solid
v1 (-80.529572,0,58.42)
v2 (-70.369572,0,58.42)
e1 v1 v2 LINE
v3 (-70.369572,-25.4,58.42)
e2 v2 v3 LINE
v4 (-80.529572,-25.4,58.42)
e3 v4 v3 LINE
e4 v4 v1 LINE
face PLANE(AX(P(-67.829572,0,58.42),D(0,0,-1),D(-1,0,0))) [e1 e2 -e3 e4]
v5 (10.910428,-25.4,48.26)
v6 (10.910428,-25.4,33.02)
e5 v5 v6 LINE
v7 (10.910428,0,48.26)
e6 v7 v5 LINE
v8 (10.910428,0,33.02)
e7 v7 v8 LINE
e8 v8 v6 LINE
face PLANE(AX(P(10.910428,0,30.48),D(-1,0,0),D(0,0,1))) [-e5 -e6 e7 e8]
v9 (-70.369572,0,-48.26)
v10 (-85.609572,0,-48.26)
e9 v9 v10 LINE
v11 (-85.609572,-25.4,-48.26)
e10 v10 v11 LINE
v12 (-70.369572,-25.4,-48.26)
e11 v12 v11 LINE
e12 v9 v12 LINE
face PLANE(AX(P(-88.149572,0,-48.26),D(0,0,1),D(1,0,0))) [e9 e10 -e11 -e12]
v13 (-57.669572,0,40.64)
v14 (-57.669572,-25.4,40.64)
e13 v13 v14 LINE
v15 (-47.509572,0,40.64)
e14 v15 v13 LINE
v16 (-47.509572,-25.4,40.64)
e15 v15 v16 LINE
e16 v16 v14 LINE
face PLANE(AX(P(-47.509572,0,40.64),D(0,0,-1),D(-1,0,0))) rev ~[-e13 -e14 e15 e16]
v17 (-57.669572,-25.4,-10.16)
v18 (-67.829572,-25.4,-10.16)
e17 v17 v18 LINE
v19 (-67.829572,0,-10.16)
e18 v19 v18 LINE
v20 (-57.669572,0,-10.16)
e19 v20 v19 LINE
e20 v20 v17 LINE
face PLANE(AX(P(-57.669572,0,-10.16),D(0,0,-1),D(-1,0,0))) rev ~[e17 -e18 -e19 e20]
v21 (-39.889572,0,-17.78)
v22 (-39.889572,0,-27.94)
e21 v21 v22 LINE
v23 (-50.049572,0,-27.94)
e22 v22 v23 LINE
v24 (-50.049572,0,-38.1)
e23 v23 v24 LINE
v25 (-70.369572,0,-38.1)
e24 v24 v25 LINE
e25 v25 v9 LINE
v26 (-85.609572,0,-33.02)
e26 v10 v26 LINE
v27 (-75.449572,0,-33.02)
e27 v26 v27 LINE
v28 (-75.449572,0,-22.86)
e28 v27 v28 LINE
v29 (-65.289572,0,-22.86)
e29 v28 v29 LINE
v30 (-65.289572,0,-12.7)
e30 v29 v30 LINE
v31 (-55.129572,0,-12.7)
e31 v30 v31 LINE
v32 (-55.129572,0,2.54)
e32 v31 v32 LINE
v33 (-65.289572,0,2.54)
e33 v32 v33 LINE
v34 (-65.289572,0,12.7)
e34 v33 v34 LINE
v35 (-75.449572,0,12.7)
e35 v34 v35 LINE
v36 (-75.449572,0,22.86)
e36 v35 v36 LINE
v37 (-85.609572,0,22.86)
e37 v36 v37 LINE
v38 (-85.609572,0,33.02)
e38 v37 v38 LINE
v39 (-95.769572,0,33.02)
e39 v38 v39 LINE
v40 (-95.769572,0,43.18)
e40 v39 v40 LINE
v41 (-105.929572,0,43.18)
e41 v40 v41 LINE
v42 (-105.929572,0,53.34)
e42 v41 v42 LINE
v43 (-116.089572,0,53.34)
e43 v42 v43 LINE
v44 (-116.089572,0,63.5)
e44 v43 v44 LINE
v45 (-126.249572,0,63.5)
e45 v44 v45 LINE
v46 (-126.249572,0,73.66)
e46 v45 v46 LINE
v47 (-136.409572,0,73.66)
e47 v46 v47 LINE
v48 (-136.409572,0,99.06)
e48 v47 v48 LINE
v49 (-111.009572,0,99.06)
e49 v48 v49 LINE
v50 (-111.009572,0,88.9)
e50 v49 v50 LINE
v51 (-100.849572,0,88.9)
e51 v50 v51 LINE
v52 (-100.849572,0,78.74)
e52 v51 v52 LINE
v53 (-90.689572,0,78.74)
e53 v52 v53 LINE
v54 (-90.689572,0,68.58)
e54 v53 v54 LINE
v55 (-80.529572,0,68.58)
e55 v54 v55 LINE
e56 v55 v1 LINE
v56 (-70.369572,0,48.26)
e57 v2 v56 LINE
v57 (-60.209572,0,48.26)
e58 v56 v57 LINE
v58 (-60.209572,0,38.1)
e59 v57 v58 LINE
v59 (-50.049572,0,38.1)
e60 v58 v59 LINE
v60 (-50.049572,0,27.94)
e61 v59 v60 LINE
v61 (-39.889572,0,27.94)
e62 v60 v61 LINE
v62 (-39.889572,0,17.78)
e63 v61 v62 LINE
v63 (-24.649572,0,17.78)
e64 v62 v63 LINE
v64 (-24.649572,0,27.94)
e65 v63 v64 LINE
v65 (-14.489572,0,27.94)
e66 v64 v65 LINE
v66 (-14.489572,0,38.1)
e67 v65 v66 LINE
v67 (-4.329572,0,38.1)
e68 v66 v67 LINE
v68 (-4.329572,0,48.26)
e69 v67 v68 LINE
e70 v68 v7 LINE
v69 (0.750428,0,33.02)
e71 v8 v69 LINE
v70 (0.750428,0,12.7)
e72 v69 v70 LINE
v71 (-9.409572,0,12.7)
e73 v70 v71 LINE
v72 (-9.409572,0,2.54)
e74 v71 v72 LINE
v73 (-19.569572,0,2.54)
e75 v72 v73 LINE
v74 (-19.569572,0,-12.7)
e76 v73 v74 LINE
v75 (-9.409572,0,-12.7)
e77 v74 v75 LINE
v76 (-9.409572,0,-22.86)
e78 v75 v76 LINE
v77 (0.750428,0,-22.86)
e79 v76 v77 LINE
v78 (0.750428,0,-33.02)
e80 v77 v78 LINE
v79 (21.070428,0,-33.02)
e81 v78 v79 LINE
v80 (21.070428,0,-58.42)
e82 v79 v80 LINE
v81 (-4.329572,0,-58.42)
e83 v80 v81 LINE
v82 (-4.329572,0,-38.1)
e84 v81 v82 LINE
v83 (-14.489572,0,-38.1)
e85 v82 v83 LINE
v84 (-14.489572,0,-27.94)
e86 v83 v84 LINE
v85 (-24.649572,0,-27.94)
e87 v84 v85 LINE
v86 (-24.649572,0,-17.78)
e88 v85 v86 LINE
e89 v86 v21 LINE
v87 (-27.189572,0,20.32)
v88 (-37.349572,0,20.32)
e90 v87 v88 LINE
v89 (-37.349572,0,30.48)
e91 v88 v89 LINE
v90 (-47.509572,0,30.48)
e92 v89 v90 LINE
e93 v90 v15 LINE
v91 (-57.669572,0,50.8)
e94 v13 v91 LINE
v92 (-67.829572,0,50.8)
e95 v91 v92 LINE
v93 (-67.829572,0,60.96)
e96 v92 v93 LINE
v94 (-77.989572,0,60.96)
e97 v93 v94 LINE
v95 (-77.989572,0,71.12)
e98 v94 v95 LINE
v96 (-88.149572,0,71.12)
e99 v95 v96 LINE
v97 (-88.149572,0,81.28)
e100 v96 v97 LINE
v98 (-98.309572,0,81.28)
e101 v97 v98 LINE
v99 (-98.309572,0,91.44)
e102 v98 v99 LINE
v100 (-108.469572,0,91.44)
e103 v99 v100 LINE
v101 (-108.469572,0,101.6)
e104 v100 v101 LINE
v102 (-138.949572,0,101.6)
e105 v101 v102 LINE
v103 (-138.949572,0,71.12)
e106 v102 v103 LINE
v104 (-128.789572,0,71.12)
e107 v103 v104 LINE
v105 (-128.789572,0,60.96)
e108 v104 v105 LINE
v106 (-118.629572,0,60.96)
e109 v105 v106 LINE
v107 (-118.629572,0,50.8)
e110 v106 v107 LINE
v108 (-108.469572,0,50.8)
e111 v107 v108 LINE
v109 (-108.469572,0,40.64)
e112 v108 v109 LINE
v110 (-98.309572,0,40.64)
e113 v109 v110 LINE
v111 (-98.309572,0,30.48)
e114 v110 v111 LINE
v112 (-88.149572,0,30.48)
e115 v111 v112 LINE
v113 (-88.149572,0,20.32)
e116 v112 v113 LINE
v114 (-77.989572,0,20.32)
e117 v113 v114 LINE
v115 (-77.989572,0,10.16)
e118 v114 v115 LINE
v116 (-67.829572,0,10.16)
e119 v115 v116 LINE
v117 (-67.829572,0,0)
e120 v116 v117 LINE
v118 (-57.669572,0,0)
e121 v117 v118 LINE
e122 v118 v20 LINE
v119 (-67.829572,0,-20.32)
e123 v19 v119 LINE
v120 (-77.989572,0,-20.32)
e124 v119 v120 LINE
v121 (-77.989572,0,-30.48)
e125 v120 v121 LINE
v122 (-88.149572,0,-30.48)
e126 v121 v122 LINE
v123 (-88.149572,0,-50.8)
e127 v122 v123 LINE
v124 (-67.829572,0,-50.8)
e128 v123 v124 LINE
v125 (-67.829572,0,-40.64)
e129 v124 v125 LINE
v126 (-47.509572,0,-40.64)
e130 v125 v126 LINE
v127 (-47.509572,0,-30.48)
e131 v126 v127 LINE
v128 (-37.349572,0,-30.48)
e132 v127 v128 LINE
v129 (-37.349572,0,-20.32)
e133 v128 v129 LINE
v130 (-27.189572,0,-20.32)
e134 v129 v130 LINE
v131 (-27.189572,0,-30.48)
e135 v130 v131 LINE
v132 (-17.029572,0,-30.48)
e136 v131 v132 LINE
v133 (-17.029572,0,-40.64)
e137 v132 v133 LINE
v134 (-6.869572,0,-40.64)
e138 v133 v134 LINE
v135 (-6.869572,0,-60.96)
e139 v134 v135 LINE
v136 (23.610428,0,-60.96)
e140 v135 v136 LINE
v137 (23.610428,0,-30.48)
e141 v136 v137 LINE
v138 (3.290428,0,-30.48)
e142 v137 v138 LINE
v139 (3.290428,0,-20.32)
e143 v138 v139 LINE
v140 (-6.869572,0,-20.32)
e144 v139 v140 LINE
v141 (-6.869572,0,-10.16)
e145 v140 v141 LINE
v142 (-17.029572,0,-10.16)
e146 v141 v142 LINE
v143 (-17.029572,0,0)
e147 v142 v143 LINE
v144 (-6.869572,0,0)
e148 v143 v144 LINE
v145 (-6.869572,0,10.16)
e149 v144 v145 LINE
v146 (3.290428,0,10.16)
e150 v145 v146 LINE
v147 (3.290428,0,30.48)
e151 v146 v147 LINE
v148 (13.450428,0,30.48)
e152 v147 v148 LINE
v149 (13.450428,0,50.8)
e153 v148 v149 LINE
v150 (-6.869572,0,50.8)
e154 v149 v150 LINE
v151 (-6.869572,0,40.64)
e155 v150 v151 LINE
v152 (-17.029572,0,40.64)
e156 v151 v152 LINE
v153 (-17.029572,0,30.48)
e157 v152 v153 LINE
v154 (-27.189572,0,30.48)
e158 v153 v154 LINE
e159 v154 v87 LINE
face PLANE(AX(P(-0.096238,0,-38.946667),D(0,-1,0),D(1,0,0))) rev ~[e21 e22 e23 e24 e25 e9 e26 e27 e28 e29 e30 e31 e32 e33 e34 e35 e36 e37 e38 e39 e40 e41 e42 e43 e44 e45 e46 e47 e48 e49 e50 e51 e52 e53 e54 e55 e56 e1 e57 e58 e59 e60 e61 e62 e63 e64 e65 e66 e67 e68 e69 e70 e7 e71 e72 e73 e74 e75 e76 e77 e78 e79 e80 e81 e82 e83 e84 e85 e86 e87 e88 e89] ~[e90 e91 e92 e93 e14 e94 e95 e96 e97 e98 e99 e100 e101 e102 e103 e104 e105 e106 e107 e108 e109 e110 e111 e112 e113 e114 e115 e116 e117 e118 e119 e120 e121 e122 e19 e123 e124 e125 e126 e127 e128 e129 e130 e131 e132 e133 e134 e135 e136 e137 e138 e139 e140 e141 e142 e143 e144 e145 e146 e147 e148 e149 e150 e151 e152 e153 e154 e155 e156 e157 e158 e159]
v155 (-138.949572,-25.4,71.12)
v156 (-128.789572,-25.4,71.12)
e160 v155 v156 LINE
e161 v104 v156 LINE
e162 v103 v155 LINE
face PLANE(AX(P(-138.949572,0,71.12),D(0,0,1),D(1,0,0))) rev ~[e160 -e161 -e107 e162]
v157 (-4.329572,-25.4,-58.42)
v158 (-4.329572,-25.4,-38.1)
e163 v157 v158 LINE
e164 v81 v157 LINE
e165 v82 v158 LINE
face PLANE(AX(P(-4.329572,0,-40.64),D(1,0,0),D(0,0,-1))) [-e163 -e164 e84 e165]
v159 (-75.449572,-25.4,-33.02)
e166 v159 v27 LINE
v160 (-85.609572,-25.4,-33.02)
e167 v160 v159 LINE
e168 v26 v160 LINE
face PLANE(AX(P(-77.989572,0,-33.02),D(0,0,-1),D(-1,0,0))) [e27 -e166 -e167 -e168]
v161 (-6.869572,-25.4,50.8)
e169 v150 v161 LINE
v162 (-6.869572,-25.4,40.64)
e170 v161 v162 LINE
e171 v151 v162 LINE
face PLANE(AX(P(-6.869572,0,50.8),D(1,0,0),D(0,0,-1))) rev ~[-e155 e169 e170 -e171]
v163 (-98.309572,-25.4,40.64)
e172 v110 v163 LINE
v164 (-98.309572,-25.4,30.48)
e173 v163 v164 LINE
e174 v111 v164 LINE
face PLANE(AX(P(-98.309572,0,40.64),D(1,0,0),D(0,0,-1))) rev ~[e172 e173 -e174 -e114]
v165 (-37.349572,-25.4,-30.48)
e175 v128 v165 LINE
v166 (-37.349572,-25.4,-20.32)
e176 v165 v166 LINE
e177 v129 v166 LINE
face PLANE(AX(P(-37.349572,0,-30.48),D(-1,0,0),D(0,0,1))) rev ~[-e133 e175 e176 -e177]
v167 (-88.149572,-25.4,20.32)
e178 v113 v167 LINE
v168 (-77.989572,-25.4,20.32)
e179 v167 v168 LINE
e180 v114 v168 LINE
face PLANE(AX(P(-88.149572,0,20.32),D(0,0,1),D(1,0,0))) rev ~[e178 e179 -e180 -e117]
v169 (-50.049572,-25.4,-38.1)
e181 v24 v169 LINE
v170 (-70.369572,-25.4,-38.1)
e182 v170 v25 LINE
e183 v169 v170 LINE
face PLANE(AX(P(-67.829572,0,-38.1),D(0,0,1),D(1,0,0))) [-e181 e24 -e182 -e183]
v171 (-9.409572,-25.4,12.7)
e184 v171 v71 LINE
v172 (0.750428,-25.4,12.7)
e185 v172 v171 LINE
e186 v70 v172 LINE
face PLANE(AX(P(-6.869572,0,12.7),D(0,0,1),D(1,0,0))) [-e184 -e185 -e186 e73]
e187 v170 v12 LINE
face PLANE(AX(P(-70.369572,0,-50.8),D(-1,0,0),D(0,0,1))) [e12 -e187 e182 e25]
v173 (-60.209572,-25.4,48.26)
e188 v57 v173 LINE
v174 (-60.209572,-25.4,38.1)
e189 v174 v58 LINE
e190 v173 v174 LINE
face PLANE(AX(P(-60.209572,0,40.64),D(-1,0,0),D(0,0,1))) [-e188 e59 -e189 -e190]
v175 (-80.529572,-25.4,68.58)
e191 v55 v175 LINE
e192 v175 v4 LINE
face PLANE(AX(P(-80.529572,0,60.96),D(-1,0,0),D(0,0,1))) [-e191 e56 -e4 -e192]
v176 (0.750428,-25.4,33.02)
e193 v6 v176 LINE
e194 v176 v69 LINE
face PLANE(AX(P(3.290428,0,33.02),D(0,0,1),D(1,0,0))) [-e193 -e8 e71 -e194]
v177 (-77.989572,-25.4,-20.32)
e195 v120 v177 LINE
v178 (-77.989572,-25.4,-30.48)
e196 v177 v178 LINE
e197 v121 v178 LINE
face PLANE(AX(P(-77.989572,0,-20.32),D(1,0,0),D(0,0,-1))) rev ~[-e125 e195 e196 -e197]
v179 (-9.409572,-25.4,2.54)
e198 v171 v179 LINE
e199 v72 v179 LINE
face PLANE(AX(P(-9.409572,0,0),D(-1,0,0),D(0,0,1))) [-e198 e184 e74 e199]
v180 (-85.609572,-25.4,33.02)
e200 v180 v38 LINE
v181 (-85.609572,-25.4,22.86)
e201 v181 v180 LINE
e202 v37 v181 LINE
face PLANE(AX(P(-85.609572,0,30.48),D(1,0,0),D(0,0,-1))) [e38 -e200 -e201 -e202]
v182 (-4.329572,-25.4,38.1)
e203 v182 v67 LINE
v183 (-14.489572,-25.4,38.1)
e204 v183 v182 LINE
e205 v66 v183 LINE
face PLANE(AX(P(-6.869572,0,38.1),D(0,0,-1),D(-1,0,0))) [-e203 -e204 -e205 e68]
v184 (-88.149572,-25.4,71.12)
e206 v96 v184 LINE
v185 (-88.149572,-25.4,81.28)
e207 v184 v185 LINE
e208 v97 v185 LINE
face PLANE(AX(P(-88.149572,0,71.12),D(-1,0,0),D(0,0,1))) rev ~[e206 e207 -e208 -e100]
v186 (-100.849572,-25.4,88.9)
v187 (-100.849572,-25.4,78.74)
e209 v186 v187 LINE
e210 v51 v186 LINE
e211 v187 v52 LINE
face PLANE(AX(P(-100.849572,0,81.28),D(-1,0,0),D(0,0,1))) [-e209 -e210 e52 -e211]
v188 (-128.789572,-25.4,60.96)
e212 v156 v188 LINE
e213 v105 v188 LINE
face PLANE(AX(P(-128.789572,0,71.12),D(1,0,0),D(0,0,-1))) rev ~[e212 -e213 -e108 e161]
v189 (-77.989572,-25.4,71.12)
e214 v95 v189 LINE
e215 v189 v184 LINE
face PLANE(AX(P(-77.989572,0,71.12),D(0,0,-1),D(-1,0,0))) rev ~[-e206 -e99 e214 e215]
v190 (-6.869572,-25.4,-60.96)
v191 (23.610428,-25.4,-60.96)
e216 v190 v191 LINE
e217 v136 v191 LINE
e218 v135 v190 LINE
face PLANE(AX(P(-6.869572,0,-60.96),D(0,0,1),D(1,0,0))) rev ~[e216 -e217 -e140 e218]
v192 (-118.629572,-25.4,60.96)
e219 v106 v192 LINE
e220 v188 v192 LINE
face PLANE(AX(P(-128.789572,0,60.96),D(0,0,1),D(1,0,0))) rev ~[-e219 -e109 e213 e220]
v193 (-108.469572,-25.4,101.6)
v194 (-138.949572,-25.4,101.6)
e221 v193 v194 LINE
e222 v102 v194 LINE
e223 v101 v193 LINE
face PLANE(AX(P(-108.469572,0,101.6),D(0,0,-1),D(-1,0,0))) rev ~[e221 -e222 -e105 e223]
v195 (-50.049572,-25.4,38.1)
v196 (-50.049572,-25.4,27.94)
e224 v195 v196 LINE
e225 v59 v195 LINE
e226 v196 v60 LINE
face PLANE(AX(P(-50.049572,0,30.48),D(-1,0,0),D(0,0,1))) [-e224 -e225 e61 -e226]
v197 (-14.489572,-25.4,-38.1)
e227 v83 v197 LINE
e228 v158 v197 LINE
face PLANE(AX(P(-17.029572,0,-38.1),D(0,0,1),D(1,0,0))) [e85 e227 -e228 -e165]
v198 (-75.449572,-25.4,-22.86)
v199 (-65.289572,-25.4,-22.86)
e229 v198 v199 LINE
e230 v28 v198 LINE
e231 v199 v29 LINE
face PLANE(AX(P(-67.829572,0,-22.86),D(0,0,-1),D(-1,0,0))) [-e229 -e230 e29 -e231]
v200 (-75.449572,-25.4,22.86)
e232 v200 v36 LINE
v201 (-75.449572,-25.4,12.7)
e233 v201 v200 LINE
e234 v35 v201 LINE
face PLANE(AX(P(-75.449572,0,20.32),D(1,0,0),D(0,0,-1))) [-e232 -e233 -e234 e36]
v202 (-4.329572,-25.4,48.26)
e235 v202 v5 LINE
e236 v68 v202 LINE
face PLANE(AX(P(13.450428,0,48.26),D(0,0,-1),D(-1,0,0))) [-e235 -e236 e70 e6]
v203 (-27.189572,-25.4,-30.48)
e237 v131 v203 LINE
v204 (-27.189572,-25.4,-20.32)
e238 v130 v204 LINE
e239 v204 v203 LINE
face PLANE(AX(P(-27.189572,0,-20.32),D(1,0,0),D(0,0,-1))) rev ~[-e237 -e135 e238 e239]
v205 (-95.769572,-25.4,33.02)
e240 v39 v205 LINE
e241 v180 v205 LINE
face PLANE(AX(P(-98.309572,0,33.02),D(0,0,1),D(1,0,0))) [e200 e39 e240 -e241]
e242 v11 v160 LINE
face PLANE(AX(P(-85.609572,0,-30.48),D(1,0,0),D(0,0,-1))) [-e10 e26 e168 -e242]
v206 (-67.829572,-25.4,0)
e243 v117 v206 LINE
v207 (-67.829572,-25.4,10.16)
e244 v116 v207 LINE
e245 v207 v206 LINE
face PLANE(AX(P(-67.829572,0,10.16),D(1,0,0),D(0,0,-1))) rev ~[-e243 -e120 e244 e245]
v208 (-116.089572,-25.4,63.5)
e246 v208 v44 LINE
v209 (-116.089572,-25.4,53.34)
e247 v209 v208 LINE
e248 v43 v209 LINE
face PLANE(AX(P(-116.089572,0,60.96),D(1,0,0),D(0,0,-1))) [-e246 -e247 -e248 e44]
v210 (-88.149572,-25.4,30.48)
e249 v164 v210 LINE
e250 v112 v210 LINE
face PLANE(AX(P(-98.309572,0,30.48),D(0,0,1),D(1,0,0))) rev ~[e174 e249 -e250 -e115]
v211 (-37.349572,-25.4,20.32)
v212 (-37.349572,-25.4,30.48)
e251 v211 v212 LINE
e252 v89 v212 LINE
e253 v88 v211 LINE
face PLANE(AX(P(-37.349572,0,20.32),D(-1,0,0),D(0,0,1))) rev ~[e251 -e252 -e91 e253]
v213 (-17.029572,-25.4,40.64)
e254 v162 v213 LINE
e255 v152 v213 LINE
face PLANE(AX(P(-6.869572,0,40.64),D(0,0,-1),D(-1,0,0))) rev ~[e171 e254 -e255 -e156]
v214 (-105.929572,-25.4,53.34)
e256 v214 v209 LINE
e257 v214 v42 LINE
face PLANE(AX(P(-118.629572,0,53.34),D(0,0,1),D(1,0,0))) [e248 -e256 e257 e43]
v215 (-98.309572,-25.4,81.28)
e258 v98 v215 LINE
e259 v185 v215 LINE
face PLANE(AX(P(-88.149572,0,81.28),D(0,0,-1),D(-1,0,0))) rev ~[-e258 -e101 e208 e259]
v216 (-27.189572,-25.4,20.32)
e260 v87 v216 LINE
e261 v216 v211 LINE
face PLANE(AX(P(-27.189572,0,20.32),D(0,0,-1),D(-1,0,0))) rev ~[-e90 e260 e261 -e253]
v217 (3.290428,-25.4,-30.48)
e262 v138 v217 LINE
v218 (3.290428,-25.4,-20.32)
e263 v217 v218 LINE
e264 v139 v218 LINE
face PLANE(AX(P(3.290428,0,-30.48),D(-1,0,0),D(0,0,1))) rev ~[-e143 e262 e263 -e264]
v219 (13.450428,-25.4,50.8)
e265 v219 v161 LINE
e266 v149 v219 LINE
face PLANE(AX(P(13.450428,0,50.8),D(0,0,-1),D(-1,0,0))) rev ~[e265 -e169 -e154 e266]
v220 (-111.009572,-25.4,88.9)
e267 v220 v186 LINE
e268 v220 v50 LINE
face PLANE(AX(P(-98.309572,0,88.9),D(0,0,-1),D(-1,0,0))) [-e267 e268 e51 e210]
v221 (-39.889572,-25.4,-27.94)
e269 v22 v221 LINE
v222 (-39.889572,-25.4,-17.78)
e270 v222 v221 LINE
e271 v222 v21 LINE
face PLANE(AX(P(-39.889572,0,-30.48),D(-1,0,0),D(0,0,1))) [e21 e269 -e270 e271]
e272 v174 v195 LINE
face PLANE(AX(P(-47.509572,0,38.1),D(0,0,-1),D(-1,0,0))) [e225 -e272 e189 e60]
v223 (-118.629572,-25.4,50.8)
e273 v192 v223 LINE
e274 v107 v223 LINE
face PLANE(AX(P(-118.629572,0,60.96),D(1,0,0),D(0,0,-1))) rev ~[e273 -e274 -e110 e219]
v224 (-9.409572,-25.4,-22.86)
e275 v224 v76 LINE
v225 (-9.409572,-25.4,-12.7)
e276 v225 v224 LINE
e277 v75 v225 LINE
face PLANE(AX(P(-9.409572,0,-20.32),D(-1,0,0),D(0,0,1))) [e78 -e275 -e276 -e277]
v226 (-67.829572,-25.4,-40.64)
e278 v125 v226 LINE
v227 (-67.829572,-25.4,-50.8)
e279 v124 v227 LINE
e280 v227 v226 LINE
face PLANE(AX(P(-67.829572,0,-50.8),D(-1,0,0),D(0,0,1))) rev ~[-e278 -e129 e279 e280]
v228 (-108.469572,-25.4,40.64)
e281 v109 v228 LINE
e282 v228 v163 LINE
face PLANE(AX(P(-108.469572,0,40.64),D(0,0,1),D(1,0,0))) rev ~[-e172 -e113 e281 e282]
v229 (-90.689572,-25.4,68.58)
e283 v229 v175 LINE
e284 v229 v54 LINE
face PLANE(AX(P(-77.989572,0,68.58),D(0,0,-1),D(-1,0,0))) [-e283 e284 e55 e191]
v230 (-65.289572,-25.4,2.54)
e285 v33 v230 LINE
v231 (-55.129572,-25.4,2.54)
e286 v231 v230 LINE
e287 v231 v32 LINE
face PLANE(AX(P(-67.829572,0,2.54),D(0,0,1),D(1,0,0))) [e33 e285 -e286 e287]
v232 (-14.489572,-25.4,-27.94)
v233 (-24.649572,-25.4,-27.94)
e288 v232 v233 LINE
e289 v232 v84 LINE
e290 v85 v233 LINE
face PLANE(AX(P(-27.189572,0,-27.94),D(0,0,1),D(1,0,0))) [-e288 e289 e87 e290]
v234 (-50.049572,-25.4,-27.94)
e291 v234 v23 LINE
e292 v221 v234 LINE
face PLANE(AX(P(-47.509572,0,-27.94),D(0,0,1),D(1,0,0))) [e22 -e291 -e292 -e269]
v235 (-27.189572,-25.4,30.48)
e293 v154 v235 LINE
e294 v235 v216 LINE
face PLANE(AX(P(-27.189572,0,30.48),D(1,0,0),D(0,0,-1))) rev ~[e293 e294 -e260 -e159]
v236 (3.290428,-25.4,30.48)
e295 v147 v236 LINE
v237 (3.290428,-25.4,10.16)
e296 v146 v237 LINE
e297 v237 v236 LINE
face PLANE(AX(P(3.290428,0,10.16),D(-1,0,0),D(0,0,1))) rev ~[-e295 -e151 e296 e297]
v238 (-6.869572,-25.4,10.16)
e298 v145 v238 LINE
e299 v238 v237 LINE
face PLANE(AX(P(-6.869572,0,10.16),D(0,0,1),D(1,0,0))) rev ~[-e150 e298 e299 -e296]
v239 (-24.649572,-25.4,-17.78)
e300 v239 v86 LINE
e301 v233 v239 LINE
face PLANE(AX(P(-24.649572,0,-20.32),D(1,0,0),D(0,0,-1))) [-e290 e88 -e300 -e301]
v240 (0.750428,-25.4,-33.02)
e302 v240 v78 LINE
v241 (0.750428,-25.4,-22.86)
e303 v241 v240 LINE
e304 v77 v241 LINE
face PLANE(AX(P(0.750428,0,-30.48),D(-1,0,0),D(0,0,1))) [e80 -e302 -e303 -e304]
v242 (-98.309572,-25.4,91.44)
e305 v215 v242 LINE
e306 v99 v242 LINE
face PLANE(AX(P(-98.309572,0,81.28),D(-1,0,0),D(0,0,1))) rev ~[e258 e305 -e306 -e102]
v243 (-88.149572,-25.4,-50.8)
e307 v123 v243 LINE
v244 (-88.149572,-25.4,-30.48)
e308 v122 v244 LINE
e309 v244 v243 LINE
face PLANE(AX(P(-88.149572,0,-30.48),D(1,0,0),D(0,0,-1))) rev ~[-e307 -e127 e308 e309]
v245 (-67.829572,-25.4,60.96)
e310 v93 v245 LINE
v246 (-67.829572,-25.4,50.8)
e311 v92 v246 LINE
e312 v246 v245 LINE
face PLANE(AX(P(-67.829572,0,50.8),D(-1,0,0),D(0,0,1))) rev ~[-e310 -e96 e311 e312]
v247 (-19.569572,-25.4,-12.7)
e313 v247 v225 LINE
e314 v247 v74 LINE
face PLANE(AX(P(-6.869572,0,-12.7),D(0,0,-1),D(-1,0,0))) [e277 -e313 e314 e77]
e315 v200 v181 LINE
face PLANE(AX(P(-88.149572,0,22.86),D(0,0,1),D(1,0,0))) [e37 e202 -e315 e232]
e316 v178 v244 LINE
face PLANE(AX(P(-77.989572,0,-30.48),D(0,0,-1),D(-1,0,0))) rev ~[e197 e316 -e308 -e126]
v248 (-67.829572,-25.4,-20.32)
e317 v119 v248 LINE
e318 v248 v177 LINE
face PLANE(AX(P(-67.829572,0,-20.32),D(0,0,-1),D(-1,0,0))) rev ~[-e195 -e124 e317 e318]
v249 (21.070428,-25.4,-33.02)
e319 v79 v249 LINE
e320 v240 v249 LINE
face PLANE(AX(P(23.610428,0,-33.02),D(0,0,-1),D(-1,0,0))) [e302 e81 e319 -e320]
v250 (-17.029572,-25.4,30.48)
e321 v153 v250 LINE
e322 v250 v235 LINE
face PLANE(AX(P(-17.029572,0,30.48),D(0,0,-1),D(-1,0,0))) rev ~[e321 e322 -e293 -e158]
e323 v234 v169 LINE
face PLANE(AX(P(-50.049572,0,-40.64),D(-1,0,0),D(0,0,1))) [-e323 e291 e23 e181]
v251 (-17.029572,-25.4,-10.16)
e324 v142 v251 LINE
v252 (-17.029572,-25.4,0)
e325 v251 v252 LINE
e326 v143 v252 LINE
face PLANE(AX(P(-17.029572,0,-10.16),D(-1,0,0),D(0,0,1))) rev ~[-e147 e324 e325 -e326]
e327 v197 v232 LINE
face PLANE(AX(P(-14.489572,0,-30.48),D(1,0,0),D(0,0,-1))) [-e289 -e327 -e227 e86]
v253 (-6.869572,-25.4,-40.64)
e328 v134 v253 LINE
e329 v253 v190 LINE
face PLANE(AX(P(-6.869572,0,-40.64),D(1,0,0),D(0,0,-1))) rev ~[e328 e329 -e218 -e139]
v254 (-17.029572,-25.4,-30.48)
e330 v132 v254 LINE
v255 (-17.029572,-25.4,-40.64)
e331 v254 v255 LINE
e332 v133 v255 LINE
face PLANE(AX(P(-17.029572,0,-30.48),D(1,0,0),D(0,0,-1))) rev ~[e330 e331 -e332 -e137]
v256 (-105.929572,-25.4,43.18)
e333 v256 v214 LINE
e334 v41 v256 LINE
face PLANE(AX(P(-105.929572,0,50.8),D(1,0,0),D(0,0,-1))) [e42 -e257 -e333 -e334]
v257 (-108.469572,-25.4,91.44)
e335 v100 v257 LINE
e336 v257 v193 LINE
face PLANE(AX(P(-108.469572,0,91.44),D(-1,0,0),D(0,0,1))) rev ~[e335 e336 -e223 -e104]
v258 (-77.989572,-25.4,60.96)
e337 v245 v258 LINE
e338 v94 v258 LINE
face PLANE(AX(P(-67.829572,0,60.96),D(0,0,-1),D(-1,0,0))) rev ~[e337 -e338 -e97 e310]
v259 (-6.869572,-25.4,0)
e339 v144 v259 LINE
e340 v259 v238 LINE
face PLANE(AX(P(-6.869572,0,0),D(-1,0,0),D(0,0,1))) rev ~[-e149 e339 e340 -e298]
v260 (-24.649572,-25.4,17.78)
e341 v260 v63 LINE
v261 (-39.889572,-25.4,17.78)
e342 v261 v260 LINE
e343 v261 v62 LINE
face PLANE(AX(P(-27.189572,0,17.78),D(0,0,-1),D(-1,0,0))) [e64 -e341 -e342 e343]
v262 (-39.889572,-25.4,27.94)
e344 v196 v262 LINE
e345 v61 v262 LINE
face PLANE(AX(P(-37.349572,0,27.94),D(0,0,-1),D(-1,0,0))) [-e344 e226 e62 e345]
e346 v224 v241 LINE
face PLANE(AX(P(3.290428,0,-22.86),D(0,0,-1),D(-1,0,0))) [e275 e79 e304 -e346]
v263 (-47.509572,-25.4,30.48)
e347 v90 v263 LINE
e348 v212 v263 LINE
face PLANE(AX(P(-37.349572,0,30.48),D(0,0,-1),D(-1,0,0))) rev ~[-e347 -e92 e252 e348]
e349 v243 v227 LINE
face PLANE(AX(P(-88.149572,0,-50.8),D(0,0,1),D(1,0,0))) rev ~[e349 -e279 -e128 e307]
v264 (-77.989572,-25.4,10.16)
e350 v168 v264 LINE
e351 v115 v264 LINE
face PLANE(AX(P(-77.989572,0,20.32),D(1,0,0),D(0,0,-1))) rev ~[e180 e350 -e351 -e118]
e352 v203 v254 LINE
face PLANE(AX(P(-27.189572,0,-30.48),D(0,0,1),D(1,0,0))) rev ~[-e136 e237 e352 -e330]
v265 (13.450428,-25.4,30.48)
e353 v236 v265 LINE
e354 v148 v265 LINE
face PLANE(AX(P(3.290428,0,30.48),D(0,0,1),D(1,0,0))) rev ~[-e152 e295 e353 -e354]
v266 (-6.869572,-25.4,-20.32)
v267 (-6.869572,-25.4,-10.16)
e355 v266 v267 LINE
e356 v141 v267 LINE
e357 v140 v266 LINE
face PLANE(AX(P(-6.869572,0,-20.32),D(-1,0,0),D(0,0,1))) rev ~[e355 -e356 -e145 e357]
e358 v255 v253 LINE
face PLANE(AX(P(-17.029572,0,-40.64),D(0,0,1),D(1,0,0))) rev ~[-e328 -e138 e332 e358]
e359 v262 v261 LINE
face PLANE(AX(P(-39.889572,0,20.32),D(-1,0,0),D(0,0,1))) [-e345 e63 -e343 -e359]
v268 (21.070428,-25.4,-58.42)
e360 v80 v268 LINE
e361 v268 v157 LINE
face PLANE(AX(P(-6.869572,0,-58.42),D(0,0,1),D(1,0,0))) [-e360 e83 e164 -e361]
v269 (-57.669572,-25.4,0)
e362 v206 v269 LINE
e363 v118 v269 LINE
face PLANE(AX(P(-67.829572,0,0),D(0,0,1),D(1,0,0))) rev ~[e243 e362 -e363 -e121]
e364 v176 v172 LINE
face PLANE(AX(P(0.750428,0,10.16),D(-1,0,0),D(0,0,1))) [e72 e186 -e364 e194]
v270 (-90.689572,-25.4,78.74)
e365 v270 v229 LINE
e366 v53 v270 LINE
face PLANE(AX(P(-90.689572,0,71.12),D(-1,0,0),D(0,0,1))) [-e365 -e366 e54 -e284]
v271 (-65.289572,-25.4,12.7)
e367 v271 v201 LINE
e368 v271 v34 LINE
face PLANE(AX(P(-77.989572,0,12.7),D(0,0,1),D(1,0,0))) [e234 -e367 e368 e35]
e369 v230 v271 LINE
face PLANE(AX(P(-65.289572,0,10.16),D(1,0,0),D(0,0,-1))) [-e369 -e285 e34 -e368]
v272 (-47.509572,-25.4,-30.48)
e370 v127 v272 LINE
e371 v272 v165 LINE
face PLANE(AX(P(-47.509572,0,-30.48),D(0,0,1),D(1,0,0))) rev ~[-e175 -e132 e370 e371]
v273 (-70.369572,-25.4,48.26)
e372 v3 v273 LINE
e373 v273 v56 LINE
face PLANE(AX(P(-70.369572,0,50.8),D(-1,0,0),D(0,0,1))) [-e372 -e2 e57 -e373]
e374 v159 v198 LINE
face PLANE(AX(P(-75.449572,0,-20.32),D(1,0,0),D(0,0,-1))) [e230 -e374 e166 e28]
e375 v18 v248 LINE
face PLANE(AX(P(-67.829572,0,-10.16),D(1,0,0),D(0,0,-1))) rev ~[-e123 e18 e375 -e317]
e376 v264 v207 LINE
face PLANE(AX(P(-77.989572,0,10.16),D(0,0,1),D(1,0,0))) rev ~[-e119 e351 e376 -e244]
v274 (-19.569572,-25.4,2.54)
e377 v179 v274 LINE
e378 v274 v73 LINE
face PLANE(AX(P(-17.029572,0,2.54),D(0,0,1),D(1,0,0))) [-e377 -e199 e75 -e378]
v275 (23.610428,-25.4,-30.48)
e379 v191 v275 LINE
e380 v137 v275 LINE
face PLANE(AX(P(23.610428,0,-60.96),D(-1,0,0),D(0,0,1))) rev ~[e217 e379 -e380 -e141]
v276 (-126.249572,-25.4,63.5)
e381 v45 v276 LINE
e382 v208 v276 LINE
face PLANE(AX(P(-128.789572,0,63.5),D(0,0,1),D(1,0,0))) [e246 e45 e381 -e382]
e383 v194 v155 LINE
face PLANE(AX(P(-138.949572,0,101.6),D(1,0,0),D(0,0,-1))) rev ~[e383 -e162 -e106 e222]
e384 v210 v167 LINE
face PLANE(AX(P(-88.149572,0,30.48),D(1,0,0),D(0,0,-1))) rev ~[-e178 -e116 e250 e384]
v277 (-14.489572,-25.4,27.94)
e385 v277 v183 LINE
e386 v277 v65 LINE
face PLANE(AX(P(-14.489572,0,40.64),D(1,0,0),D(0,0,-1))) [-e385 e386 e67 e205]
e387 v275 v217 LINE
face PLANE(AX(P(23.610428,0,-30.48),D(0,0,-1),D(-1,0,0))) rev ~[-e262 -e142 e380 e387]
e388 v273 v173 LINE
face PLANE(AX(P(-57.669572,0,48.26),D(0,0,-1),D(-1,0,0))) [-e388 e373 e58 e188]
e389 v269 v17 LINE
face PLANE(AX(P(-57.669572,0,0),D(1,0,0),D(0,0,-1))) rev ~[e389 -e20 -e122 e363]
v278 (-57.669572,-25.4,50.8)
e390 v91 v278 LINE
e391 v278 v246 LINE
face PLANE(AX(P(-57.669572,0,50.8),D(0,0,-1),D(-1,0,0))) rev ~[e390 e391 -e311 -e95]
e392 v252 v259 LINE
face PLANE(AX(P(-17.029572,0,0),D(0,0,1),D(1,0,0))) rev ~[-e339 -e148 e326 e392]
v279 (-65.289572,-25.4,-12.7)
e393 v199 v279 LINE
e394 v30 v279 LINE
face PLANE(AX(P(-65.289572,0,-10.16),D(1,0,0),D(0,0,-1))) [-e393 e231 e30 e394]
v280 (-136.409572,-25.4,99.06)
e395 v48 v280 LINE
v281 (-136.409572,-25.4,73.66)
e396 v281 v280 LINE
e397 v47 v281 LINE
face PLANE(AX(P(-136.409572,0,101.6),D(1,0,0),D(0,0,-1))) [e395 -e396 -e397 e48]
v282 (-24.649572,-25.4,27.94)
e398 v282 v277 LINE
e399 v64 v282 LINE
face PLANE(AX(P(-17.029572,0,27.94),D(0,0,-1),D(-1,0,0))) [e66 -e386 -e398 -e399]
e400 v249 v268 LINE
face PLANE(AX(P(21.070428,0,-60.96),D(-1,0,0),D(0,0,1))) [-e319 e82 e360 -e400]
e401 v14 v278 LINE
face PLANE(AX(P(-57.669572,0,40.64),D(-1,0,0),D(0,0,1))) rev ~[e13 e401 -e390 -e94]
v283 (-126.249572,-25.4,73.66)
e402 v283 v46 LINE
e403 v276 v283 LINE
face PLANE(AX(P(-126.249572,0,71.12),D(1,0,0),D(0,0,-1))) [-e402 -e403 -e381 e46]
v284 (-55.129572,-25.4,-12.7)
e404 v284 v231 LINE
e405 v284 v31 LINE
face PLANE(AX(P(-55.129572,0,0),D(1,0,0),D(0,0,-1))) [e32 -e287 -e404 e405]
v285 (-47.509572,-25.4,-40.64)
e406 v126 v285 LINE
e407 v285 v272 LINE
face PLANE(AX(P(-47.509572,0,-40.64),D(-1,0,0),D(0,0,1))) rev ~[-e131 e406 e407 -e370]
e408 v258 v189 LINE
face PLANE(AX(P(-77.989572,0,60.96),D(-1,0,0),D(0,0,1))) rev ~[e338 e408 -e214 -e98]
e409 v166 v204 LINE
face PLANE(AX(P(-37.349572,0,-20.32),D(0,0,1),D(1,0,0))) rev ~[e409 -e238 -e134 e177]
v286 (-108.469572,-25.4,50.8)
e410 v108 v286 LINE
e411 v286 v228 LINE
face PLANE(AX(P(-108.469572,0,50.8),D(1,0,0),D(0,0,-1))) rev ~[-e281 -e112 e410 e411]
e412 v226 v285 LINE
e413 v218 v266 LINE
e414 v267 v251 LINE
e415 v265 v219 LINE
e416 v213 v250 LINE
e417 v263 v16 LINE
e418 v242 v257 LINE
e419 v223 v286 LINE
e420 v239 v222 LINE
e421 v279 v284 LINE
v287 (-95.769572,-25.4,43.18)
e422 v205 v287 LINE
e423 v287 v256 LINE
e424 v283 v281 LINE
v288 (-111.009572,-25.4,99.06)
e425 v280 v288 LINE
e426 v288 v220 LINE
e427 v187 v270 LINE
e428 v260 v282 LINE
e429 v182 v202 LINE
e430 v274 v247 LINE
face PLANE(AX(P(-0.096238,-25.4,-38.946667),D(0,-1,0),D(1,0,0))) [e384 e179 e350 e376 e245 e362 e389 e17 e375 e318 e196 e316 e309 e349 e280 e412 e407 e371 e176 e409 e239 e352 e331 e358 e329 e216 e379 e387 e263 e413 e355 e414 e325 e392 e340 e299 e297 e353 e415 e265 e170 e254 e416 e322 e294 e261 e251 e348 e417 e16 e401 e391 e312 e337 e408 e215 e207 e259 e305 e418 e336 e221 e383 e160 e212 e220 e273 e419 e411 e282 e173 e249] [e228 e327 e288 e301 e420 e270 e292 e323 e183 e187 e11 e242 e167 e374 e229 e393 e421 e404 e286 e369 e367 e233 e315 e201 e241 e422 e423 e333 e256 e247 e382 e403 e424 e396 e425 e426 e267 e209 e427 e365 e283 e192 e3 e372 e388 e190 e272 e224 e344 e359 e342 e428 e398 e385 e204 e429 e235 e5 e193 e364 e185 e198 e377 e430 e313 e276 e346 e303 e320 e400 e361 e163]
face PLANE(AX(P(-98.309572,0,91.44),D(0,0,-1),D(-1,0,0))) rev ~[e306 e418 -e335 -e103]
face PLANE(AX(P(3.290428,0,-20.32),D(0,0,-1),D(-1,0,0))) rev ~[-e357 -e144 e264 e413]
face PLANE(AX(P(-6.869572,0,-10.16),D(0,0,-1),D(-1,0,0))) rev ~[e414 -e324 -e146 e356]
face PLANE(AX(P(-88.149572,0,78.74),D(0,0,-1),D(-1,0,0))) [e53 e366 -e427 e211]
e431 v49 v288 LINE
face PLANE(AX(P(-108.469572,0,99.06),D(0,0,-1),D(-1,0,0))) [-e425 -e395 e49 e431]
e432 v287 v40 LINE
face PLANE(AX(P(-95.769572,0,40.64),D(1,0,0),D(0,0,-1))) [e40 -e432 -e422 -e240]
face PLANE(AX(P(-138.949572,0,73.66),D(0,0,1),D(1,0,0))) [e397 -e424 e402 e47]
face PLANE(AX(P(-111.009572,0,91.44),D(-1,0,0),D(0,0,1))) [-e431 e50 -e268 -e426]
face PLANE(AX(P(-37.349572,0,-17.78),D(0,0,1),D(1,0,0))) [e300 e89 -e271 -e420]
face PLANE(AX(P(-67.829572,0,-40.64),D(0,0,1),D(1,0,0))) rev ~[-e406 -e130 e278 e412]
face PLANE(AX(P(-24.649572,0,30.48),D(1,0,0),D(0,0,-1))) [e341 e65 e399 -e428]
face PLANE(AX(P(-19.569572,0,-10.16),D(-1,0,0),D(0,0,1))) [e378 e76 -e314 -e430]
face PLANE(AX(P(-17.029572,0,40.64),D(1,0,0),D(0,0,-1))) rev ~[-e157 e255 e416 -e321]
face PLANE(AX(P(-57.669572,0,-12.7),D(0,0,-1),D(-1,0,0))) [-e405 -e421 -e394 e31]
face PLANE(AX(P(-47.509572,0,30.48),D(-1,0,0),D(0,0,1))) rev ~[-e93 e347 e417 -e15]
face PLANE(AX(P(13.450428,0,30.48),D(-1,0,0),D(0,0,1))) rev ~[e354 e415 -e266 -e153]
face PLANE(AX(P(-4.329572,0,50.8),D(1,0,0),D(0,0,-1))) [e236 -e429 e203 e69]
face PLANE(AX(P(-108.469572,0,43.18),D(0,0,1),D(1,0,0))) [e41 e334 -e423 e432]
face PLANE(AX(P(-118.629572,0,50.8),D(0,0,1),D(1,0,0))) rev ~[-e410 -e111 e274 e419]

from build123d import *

# Parameters (mm, degrees)
F1_DEPTH = 25.4
F2_T     = -2.54


with BuildPart() as f1:
    # F0 (on Front) → F1 (new body)
    with BuildSketch(Plane.XZ):
        Polygon((-6.8695716643, -40.64), (-6.8695716643, -60.96), (23.6104283357, -60.96), (23.6104283357, -30.48), (3.2904283357, -30.48), (3.2904283357, -20.32), (-6.8695716643, -20.32), (-17.0295716643, -20.32), (-27.1895716643, -20.32), (-27.1895716643, -30.48), (-17.0295716643, -30.48), (-17.0295716643, -40.64), align=None)
        Polygon((-17.0295716643, -20.32), (-6.8695716643, -20.32), (-6.8695716643, -10.16), (-17.0295716643, -10.16), (-17.0295716643, 0), (-6.8695716643, 0), (-6.8695716643, 10.16), (3.2904283357, 10.16), (3.2904283357, 30.48), (13.4504283357, 30.48), (13.4504283357, 50.8), (-6.8695716643, 50.8), (-6.8695716643, 40.64), (-17.0295716643, 40.64), (-17.0295716643, 30.48), (-27.1895716643, 30.48), (-27.1895716643, 20.32), (-37.3495716643, 20.32), (-47.5095716643, 20.32), (-57.6695716643, 20.32), (-77.9895716643, 20.32), (-77.9895716643, 10.16), (-67.8295716643, 10.16), (-67.8295716643, 0), (-57.6695716643, 0), (-57.6695716643, -10.16), (-57.6695716643, -20.32), (-37.3495716643, -20.32), (-27.1895716643, -20.32), align=None)
        Polygon((-37.3495716643, -30.48), (-37.3495716643, -20.32), (-57.6695716643, -20.32), (-57.6695716643, -10.16), (-67.8295716643, -10.16), (-67.8295716643, -20.32), (-77.9895716643, -20.32), (-77.9895716643, -30.48), (-88.1495716643, -30.48), (-88.1495716643, -50.8), (-67.8295716643, -50.8), (-67.8295716643, -40.64), (-47.5095716643, -40.64), (-47.5095716643, -30.48), align=None)
        Polygon((-88.1495716643, 20.32), (-77.9895716643, 20.32), (-57.6695716643, 20.32), (-47.5095716643, 20.32), (-37.3495716643, 20.32), (-37.3495716643, 30.48), (-47.5095716643, 30.48), (-67.8295716643, 30.48), (-88.1495716643, 30.48), align=None)
        Polygon((-98.3095716643, 30.48), (-88.1495716643, 30.48), (-67.8295716643, 30.48), (-47.5095716643, 30.48), (-47.5095716643, 40.64), (-57.6695716643, 40.64), (-77.9895716643, 40.64), (-98.3095716643, 40.64), align=None)
        Polygon((-108.4695716643, 40.64), (-98.3095716643, 40.64), (-77.9895716643, 40.64), (-57.6695716643, 40.64), (-57.6695716643, 50.8), (-67.8295716643, 50.8), (-88.1495716643, 50.8), (-108.4695716643, 50.8), align=None)
        Polygon((-118.6295716643, 50.8), (-108.4695716643, 50.8), (-88.1495716643, 50.8), (-67.8295716643, 50.8), (-67.8295716643, 60.96), (-77.9895716643, 60.96), (-98.3095716643, 60.96), (-118.6295716643, 60.96), align=None)
        Polygon((-128.7895716643, 60.96), (-118.6295716643, 60.96), (-98.3095716643, 60.96), (-77.9895716643, 60.96), (-77.9895716643, 71.12), (-88.1495716643, 71.12), (-88.1495716643, 81.28), (-98.3095716643, 81.28), (-98.3095716643, 91.44), (-108.4695716643, 91.44), (-108.4695716643, 101.6), (-138.9495716643, 101.6), (-138.9495716643, 71.12), (-128.7895716643, 71.12), align=None)
    extrude(amount=F1_DEPTH)

    # F2
    f2_openings = [f1.faces().sort_by_distance(p)[0] for p in [
        (-54.908702, -25.4, 17.55913),
        (-54.908702, 0, 17.55913),
    ]]
    offset(amount=F2_T, openings=f2_openings, kind=Kind.INTERSECTION)


solid = f1.part
